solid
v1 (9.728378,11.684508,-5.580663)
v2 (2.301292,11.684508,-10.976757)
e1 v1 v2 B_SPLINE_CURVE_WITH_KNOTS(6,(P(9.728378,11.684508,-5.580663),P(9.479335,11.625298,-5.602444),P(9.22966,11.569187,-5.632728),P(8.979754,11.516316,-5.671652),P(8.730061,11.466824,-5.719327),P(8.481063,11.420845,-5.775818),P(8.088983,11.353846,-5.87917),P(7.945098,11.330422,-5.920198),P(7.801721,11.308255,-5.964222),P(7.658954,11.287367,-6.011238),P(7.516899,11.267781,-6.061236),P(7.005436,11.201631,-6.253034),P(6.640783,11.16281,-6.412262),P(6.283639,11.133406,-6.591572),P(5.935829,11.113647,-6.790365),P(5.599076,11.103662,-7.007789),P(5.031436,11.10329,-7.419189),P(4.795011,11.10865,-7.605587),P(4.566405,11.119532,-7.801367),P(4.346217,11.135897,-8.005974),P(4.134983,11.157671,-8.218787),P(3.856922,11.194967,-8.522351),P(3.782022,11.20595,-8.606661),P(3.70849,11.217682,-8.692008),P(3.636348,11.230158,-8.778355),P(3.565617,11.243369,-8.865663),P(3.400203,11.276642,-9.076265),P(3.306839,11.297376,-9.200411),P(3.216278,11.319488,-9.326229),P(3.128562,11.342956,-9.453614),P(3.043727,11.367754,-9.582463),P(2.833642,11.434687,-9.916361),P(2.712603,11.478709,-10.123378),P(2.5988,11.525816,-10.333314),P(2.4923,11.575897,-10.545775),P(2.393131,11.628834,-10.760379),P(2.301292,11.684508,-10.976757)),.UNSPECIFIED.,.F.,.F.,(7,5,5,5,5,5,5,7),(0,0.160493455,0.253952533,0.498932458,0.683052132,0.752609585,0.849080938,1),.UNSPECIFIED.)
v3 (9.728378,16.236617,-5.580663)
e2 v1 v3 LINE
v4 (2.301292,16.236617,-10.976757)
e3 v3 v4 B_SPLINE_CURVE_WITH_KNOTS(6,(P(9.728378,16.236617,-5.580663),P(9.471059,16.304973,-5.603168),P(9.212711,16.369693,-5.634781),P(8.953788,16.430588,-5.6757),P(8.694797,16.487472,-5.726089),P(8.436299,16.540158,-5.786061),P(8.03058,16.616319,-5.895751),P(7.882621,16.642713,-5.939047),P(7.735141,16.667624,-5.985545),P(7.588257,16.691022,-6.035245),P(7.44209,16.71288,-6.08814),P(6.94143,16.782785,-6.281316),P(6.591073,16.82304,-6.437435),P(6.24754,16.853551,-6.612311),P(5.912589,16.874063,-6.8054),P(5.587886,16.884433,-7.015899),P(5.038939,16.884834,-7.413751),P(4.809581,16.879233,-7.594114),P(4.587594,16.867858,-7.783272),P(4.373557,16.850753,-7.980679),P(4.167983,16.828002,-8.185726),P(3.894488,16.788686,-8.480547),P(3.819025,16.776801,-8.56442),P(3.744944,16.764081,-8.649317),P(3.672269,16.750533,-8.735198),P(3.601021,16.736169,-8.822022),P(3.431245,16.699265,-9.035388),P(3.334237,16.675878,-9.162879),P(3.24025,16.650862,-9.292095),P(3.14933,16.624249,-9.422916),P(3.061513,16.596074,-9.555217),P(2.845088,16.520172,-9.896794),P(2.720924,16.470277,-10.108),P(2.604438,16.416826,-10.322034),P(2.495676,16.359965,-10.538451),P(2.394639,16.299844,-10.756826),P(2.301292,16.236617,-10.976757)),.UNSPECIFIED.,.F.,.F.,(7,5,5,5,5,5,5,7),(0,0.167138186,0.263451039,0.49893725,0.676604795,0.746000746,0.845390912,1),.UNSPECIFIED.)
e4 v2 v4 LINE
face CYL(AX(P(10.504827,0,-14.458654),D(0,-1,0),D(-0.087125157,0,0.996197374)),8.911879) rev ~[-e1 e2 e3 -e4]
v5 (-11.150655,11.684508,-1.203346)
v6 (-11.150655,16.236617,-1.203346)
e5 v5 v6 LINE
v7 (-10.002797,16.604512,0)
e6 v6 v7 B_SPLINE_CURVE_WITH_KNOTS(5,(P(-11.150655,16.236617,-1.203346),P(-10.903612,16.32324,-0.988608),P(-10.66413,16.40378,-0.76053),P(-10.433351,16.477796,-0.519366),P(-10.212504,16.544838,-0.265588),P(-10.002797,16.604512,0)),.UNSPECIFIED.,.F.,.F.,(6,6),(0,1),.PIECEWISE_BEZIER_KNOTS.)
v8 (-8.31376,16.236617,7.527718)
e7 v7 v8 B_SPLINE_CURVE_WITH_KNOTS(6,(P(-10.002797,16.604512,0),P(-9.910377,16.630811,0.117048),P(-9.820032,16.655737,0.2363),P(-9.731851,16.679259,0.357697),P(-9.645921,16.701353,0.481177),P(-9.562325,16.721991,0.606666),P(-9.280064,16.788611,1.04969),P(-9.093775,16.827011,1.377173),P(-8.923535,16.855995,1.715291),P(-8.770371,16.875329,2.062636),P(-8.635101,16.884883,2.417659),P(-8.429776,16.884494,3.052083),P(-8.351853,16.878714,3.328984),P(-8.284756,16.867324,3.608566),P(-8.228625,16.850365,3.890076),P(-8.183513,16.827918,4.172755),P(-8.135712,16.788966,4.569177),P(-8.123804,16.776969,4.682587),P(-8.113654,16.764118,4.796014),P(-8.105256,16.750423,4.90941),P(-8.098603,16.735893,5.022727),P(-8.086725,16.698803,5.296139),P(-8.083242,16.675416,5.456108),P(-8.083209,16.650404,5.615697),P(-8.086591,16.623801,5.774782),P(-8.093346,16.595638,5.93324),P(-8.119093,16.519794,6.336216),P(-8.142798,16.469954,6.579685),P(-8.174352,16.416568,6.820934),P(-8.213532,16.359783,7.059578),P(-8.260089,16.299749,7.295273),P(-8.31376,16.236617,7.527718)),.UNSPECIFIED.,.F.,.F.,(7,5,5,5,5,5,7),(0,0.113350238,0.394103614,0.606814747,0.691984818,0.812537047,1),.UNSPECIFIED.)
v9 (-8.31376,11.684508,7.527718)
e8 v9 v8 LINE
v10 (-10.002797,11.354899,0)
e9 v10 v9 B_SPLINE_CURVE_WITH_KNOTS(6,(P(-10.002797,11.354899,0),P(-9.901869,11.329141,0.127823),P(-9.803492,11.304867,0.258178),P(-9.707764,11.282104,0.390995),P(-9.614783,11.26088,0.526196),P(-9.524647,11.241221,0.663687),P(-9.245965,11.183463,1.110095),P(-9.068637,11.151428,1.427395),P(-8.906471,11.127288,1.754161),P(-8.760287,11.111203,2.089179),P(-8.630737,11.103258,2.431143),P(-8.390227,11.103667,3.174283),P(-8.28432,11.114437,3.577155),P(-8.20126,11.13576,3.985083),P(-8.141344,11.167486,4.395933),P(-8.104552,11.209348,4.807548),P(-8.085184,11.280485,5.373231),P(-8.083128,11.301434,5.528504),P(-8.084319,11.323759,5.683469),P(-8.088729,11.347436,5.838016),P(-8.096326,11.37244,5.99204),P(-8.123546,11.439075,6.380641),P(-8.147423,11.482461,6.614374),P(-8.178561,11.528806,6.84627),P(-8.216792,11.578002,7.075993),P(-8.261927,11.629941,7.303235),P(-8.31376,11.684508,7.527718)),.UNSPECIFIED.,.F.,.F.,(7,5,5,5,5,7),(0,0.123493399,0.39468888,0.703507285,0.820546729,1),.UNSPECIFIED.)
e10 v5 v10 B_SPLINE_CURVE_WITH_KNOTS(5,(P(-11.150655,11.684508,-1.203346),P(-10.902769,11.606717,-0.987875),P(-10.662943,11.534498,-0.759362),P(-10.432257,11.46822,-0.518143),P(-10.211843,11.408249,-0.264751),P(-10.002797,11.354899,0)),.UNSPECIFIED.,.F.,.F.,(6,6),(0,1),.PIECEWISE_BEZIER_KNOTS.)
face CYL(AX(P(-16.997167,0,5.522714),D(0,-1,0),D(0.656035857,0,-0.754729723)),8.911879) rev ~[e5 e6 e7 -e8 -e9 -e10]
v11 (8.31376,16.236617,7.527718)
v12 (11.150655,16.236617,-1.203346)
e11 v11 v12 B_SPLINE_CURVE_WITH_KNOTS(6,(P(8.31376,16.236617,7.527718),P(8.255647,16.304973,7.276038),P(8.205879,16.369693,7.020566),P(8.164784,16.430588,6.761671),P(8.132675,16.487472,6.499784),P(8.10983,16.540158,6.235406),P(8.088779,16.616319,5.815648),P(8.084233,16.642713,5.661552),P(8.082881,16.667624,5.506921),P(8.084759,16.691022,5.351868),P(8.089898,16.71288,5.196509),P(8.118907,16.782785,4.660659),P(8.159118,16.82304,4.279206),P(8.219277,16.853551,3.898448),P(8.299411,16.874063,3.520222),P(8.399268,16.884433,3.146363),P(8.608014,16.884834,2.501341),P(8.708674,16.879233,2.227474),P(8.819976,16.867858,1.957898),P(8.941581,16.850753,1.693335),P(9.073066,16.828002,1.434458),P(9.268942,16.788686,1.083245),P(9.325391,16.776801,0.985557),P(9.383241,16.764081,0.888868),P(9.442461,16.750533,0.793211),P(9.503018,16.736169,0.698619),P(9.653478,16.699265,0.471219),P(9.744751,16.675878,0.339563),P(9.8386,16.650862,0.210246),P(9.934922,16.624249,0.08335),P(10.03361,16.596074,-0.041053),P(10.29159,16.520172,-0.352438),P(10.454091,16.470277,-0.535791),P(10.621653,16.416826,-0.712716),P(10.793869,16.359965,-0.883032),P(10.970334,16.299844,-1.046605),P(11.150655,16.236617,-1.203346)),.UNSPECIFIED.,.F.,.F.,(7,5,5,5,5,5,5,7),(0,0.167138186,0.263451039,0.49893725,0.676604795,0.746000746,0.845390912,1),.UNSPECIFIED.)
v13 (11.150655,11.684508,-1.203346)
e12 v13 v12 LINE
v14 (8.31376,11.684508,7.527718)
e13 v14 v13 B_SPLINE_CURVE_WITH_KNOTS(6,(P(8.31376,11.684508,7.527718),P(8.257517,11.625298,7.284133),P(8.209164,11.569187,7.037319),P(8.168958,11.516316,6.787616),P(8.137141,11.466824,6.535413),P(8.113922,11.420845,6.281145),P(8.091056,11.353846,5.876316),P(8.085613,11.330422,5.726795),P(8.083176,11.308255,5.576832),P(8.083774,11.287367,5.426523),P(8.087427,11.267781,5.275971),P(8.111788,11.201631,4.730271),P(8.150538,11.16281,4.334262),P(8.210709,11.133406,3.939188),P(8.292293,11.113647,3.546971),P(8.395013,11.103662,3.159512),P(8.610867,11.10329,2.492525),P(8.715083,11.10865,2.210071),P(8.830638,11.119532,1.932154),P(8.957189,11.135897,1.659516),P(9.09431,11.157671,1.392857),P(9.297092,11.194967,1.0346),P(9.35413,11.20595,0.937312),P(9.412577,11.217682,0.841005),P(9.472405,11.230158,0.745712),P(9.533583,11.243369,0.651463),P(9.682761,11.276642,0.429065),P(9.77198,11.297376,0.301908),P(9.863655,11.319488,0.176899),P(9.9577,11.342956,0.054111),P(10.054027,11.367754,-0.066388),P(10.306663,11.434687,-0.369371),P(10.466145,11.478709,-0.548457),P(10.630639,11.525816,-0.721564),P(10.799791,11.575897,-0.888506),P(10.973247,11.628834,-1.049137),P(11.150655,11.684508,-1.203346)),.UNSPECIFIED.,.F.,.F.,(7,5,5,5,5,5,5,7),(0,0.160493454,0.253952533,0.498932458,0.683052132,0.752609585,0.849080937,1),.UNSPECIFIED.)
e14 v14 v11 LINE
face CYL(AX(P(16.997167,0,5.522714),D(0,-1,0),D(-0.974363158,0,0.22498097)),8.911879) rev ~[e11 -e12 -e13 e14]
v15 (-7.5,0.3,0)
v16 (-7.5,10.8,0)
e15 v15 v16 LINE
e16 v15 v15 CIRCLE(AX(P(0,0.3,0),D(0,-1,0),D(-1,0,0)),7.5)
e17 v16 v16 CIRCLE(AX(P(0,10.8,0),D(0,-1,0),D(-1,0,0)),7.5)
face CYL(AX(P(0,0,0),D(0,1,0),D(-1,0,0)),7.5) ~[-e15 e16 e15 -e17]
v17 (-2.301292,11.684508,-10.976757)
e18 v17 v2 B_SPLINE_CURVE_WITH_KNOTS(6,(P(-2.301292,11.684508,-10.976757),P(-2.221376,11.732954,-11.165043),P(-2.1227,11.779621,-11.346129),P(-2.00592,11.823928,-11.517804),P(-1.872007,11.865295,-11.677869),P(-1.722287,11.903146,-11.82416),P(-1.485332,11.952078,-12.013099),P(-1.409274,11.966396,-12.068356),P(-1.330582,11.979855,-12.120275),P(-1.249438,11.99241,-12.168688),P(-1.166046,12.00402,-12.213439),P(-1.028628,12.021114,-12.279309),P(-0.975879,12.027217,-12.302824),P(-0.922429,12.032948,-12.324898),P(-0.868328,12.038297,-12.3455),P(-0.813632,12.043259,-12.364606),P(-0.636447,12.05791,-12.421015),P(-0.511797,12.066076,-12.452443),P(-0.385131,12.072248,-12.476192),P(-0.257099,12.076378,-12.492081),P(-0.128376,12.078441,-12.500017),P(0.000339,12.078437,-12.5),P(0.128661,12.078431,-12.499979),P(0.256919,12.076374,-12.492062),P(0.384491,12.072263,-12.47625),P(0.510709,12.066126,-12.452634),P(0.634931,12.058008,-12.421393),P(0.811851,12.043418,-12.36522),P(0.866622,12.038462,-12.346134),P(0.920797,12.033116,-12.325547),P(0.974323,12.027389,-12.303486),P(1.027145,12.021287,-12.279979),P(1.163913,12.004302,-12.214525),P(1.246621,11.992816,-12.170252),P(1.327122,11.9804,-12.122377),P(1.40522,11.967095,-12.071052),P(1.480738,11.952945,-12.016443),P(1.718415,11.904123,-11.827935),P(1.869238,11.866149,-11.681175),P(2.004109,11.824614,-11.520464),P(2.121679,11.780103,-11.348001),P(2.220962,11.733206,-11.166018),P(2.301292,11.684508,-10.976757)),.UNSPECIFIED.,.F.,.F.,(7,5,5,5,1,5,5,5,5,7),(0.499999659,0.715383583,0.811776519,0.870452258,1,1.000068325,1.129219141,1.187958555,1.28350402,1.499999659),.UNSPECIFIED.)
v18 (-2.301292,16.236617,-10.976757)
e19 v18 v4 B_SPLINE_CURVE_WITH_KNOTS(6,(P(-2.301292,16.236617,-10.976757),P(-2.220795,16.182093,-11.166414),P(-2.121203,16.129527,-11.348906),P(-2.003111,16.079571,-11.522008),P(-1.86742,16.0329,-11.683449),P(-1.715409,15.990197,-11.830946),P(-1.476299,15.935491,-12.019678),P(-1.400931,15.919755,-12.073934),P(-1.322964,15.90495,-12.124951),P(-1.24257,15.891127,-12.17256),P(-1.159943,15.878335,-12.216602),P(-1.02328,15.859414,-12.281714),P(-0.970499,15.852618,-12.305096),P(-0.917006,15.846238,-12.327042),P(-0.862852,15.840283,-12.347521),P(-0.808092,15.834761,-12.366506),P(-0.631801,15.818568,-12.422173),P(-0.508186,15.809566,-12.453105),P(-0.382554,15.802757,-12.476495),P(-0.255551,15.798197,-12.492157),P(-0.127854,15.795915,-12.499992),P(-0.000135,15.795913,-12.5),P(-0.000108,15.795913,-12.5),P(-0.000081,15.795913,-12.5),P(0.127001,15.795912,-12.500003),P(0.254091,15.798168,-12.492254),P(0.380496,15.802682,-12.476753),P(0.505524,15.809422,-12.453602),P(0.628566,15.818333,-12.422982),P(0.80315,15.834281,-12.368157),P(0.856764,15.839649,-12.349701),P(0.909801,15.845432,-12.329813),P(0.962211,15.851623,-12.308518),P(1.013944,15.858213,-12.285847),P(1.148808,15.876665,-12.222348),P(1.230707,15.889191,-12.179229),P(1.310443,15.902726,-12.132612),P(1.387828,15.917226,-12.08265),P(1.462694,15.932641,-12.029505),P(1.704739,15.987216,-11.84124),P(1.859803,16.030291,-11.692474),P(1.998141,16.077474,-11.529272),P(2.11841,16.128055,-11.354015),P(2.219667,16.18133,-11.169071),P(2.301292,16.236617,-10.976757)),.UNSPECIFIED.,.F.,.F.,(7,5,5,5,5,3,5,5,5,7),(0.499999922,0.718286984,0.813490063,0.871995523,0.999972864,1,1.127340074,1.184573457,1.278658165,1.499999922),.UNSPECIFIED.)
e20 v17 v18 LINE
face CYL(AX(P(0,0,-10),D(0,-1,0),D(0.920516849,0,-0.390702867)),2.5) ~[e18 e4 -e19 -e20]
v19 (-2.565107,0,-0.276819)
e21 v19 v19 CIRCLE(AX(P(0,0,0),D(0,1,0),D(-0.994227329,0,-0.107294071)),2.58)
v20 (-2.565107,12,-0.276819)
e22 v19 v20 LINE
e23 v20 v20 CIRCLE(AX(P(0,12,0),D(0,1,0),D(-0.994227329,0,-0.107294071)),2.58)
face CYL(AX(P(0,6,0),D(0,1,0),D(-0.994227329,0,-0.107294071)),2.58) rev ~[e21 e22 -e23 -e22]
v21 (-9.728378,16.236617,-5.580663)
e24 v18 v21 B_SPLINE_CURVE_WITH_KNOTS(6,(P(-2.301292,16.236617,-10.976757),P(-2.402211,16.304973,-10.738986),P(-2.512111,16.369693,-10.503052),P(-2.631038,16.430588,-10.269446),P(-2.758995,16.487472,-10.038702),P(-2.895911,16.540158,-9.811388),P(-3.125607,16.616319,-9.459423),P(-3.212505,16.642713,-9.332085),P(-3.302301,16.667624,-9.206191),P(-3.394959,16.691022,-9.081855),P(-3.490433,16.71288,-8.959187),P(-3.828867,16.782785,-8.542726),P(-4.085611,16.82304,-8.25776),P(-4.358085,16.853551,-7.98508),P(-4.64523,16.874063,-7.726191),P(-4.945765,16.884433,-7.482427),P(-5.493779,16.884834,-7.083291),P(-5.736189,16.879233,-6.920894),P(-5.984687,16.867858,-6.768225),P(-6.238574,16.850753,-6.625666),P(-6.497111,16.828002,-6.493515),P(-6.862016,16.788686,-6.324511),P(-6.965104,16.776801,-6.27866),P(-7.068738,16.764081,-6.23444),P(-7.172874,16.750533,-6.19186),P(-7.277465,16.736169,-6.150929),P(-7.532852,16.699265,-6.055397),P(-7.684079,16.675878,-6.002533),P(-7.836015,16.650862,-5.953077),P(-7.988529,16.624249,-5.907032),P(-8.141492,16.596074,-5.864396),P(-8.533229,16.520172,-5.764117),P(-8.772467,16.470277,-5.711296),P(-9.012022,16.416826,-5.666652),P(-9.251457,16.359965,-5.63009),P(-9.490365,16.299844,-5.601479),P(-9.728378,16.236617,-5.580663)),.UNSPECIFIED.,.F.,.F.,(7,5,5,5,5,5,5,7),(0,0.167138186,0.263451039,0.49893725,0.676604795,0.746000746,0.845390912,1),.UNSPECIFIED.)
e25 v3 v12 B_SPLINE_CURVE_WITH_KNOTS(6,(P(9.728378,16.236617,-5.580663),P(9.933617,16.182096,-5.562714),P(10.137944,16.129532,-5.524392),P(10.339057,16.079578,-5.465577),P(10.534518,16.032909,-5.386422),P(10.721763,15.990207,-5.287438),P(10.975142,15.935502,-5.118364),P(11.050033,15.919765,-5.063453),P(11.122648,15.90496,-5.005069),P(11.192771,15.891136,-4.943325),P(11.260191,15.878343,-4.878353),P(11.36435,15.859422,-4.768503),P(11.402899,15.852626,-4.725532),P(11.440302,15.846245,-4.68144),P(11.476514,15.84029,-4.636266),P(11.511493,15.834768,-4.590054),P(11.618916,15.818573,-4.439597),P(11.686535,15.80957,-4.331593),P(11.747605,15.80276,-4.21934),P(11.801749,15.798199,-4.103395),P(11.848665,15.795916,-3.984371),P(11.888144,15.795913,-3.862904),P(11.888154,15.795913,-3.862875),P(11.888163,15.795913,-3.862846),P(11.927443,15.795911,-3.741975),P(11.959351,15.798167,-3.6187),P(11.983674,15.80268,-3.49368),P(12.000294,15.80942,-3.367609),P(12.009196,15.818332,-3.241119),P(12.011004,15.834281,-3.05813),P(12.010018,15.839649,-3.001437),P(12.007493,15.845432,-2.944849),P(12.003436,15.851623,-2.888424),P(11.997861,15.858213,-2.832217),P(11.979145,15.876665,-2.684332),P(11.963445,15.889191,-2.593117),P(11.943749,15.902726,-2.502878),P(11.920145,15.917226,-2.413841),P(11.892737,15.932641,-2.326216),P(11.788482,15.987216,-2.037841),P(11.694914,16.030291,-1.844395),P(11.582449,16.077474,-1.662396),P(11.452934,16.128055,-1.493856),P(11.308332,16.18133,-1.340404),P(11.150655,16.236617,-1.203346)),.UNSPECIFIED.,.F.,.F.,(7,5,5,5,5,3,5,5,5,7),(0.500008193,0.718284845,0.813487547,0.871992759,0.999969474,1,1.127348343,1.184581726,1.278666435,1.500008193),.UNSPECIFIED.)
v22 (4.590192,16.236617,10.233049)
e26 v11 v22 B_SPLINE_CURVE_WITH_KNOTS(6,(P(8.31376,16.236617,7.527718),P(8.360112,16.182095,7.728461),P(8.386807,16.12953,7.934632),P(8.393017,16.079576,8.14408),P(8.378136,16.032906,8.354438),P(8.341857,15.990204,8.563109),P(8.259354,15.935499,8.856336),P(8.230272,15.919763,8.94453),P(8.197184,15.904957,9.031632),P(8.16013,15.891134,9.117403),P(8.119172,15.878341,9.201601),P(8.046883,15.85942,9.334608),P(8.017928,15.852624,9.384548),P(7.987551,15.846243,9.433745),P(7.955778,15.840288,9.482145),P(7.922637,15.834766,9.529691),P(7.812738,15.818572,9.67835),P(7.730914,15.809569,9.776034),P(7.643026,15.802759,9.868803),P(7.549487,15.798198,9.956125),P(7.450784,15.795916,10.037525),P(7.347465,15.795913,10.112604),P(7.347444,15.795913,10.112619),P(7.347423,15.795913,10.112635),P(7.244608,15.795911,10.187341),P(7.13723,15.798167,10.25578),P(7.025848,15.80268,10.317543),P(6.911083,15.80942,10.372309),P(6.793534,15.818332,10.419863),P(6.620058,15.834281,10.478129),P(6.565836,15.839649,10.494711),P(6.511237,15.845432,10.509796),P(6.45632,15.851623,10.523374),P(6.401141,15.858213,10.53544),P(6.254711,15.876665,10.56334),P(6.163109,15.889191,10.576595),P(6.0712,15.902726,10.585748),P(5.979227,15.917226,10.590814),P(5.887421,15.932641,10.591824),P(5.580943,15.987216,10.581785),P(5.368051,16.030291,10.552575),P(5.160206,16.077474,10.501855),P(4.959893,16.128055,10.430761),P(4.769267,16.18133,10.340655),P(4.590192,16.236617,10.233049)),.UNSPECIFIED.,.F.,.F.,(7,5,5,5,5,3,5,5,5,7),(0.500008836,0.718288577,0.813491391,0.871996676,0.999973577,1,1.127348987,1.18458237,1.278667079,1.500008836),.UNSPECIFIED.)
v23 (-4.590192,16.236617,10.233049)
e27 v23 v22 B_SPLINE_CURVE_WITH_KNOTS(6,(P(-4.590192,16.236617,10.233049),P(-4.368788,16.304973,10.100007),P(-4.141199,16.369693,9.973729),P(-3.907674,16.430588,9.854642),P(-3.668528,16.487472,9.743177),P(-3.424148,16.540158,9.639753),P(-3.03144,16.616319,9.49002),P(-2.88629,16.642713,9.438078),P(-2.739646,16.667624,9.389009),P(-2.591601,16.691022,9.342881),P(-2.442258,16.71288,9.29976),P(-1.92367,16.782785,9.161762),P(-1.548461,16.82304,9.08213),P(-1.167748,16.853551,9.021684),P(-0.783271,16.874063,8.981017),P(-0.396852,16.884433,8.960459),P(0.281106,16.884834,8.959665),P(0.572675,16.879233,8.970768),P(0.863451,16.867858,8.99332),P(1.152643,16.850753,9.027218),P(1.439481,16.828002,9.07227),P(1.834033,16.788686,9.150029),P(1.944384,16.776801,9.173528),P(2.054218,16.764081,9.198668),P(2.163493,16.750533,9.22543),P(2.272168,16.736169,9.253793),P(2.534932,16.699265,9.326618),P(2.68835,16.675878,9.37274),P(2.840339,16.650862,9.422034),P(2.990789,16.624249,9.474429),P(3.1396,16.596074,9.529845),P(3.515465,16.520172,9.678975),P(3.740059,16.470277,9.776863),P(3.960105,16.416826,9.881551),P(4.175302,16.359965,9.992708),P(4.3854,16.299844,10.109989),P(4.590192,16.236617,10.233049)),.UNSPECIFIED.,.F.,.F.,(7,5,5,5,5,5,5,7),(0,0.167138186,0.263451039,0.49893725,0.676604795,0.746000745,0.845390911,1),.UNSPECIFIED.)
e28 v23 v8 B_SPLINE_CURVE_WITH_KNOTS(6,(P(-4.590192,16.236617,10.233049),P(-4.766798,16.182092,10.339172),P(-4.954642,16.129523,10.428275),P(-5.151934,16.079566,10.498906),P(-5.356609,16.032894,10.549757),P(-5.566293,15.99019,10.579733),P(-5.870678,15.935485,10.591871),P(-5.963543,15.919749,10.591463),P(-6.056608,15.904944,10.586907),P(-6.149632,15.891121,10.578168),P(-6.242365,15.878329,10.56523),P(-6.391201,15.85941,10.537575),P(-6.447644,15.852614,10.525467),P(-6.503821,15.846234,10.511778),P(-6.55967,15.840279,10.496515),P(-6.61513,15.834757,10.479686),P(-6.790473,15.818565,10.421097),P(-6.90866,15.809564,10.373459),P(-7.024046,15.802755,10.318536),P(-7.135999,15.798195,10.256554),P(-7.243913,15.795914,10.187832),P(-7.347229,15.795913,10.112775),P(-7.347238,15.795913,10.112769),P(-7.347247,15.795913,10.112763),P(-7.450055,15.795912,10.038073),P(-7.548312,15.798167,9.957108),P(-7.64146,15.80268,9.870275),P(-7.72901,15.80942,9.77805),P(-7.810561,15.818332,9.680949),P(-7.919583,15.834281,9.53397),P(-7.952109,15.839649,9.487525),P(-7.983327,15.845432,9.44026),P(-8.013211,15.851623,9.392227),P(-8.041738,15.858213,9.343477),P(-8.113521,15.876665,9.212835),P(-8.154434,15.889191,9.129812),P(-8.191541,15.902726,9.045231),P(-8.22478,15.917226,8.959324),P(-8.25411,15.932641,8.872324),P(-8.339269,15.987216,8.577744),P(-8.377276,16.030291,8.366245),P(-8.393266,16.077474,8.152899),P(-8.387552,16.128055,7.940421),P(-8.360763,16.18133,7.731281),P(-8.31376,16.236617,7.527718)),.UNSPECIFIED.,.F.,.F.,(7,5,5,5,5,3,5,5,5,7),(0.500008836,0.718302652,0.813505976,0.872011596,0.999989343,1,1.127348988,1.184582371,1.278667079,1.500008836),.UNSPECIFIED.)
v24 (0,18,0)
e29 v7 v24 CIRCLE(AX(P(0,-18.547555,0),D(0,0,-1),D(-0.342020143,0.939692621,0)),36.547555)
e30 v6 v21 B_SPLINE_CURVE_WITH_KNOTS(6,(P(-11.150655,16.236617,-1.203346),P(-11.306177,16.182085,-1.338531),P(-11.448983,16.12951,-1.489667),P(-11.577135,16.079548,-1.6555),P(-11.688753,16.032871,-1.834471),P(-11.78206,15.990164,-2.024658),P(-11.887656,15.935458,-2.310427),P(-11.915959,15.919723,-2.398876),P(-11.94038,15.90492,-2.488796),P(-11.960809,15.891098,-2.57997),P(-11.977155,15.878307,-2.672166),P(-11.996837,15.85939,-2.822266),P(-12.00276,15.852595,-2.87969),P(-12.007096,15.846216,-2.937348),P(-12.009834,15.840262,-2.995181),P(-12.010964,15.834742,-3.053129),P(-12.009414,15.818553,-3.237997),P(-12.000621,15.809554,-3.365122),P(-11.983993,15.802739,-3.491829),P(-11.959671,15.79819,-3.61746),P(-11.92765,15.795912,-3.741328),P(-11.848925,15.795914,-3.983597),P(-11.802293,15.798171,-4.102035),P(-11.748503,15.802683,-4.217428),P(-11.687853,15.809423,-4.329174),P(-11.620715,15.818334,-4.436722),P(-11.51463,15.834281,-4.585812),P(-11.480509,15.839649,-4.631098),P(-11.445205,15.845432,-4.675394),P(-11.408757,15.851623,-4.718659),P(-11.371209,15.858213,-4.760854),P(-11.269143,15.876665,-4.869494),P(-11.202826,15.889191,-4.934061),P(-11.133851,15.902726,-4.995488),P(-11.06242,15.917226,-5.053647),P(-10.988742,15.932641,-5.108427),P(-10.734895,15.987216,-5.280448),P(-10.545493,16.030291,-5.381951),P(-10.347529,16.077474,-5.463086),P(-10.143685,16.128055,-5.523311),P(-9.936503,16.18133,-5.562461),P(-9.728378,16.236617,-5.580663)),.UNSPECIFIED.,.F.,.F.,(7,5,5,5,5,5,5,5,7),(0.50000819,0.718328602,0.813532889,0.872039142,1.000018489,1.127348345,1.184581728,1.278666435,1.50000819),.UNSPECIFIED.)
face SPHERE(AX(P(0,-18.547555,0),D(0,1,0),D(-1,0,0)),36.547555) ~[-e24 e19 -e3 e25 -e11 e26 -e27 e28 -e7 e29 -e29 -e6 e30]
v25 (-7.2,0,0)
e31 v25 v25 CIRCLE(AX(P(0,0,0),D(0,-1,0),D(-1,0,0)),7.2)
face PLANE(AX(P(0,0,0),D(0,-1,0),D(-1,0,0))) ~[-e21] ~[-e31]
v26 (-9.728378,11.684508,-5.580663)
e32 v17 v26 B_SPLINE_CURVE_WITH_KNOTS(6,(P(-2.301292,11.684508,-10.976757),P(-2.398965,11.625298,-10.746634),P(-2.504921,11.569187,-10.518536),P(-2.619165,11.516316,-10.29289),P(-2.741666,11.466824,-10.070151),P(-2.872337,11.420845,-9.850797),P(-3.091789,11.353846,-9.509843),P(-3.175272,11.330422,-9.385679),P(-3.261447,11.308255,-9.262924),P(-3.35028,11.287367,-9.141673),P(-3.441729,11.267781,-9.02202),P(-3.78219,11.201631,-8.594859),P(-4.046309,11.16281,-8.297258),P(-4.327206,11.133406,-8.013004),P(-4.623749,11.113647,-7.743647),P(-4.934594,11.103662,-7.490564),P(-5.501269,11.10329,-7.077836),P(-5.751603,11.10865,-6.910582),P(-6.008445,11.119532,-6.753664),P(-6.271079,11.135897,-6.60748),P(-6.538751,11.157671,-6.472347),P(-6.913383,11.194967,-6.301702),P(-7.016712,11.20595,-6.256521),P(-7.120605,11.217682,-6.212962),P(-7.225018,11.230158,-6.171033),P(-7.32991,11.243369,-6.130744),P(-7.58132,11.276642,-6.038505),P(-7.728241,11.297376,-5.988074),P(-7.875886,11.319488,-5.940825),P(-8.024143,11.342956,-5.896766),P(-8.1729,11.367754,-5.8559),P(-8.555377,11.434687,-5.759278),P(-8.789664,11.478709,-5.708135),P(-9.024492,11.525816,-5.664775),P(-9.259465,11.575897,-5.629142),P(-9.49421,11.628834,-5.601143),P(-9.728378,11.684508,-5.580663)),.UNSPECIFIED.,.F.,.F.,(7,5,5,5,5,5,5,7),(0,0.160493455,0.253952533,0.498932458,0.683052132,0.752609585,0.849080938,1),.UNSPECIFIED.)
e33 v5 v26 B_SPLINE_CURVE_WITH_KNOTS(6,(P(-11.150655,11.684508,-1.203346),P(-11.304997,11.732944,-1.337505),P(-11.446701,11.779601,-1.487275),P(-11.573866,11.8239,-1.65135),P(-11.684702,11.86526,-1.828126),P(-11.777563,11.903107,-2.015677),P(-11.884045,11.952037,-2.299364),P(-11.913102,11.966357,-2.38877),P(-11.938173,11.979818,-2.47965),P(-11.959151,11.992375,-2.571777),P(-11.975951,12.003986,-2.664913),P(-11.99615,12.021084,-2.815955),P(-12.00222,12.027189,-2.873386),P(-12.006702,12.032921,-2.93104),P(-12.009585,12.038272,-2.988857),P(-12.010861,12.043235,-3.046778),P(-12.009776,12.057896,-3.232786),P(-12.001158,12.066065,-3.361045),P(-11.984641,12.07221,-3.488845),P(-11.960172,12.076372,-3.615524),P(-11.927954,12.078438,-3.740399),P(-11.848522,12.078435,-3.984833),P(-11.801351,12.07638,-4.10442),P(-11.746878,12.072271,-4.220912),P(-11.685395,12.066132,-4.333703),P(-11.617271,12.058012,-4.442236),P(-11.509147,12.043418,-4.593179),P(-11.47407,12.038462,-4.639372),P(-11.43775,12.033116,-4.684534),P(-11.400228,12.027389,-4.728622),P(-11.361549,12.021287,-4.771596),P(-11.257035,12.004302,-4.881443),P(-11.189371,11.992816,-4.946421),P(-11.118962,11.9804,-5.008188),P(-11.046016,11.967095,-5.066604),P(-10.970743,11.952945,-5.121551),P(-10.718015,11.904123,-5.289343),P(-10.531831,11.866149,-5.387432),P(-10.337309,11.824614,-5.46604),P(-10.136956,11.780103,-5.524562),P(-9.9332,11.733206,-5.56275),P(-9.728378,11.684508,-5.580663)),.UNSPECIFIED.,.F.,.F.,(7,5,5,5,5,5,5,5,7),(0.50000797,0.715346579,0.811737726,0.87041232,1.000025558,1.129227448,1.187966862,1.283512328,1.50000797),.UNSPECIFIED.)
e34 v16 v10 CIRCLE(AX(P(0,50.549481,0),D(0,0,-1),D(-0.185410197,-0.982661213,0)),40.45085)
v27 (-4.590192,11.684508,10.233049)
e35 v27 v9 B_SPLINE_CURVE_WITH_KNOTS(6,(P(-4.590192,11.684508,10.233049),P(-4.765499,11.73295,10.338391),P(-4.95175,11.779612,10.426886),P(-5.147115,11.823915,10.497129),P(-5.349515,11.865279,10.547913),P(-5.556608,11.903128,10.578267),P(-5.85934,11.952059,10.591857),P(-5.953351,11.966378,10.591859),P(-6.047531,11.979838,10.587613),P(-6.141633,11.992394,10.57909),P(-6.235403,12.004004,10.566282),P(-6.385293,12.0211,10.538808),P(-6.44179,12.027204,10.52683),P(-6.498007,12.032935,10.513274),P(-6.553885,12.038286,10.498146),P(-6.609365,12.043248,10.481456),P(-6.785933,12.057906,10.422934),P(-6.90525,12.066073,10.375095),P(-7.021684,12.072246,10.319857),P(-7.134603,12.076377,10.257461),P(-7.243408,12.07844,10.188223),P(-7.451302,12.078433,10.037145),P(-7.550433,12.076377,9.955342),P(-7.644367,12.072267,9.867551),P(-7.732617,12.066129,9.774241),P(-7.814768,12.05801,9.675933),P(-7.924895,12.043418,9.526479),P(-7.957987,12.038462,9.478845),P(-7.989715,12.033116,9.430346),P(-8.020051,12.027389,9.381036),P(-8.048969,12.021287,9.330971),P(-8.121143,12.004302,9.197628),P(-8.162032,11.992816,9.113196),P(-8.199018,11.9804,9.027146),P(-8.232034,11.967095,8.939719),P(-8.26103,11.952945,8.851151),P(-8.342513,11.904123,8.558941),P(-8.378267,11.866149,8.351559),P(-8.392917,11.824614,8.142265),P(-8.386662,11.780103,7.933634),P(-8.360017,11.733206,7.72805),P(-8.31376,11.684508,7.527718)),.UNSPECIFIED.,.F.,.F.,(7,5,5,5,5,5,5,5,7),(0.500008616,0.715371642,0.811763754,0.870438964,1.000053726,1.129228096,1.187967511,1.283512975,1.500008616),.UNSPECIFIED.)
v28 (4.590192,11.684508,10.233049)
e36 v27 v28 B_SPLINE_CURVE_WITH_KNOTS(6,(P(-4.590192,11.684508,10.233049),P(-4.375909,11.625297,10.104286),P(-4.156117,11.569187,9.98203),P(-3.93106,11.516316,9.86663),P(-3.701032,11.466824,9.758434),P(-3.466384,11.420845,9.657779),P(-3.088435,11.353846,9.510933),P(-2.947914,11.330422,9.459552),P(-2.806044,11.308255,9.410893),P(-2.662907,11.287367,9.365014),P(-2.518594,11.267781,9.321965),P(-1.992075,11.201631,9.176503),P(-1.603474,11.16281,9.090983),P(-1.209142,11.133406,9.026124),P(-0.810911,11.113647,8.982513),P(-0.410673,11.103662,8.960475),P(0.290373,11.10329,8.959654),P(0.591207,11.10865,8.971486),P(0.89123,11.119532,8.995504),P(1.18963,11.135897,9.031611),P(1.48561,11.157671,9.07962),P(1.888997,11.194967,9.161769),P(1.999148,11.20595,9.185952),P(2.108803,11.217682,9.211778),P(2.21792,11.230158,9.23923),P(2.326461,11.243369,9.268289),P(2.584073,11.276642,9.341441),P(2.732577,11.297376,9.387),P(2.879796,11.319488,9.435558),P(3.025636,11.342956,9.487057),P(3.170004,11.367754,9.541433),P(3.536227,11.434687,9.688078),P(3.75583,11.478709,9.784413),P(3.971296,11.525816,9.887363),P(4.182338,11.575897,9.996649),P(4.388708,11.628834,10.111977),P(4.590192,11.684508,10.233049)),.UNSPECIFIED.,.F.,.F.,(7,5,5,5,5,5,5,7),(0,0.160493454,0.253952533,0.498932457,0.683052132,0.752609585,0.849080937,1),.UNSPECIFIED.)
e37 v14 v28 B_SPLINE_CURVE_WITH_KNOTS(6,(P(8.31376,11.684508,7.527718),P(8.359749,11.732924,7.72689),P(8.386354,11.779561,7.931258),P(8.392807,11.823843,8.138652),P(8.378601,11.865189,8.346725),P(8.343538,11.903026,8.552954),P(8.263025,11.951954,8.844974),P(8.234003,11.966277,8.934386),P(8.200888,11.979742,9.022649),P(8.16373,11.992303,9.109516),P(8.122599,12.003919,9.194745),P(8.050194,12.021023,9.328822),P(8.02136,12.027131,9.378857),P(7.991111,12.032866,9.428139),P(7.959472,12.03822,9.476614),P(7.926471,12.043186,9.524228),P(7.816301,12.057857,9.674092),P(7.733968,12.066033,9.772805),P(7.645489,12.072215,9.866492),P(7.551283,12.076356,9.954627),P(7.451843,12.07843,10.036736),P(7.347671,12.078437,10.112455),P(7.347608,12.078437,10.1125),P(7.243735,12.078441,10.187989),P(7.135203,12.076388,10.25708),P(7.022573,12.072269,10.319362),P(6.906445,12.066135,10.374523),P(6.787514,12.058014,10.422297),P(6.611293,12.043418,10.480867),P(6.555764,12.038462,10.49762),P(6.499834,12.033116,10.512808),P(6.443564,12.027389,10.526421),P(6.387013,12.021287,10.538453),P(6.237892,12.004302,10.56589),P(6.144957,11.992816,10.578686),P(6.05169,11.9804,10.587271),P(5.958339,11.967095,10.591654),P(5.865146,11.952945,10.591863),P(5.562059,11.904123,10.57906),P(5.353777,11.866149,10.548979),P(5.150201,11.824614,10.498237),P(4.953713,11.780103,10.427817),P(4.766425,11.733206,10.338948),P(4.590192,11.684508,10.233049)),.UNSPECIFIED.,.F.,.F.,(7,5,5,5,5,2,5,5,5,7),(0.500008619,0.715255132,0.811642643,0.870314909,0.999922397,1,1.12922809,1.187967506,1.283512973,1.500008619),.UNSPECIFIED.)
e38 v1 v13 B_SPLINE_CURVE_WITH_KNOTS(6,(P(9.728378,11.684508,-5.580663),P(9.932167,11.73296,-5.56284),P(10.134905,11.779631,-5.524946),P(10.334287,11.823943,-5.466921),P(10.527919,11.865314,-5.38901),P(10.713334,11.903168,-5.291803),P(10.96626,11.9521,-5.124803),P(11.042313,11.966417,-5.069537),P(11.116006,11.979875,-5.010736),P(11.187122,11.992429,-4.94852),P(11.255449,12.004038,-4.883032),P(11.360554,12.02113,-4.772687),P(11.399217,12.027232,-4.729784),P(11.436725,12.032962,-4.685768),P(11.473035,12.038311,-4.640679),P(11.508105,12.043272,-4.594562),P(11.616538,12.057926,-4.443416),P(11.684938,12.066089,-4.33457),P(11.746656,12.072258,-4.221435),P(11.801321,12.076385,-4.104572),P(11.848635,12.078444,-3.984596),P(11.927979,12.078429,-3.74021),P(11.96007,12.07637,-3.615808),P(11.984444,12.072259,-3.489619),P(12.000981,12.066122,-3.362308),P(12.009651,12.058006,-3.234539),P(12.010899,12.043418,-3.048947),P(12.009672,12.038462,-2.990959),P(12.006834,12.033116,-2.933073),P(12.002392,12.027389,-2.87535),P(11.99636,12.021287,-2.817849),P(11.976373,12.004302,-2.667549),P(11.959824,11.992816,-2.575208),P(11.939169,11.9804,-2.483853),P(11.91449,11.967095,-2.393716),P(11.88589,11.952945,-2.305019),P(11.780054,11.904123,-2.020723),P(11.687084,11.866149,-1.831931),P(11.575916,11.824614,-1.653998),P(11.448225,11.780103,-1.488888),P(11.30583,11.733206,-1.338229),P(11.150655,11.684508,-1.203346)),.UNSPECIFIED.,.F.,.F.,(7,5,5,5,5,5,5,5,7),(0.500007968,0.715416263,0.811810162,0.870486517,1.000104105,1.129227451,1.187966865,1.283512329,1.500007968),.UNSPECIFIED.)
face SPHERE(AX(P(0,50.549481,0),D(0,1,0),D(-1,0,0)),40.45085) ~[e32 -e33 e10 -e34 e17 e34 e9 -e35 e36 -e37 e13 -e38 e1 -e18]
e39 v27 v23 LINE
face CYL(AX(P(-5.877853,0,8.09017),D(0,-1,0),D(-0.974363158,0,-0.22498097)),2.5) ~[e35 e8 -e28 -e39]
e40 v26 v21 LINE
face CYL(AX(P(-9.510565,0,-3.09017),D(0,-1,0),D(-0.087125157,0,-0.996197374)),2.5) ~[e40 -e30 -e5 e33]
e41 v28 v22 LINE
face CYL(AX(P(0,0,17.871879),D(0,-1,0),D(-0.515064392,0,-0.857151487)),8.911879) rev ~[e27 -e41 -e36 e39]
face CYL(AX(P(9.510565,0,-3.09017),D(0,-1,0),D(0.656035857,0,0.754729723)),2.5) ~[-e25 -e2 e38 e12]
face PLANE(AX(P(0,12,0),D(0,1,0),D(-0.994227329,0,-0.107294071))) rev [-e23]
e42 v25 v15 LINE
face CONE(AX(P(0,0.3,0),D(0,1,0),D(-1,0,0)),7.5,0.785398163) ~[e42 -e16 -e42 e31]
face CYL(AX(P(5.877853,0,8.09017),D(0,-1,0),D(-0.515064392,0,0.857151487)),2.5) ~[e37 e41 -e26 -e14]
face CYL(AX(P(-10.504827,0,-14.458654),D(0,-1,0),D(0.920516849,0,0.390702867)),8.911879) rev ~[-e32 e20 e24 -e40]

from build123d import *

# Parameters (mm, degrees)
SKETCH_2_R          = 13.5
CUT_EXTRUDE_1_DEPTH = 26.228951623
SKETCH_3_W          = 2.58
SKETCH_3_H          = 12
CHAMFER_1_SIZE      = 0.3


with BuildPart() as part:
    # 草图1 → 旋转1 (revolve)
    with BuildSketch(Plane.XY):
        with BuildLine():
            Line((0, 0), (-7.5, 0))
            Line((-7.5, 0), (-7.5, 10.8))
            ThreePointArc((-7.5, 10.8), (-10.020409182, 11.359397565), (-12.5, 12.078436826))
            Line((-12.5, 12.078436826), (-12.5, 15.795912741))
            ThreePointArc((-12.5, 15.795912741), (-6.346416324, 17.444760518), (0, 18))
            Line((0, 18), (0, 0))
        make_face()
    revolve(axis=Axis((0, 18, 0), (0, -1, 0)))

    # 草图2 → 切除-拉伸1 (cut, through all)
    with BuildSketch(Plane(origin=(0, 0, 0), x_dir=(1, 0, 0), z_dir=(0, 1, 0))):
        Circle(SKETCH_2_R)
        with BuildLine():
            ThreePointArc((2.301292124, 10.976757166), (0, 12.5), (-2.301292124, 10.976757166))
            ThreePointArc((-2.301292124, 10.976757166), (-5.266555861, 7.24879227), (-9.728378055, 5.580663378))
            ThreePointArc((-9.728378055, 5.580663378), (-11.888206454, 3.86271243), (-11.150654806, 1.203345637))
            ThreePointArc((-11.150654806, 1.203345637), (-8.521466386, -2.76879227), (-8.313760417, -7.527717519))
            ThreePointArc((-8.313760417, -7.527717519), (-7.347315654, -10.11271243), (-4.590191543, -10.233048662))
            ThreePointArc((-4.590191543, -10.233048662), (0, -8.96), (4.590191543, -10.233048662))
            ThreePointArc((4.590191543, -10.233048662), (7.347315654, -10.11271243), (8.313760417, -7.527717519))
            ThreePointArc((8.313760417, -7.527717519), (8.521466386, -2.76879227), (11.150654806, 1.203345637))
            ThreePointArc((11.150654806, 1.203345637), (11.888206454, 3.86271243), (9.728378055, 5.580663378))
            ThreePointArc((9.728378055, 5.580663378), (5.266555861, 7.24879227), (2.301292124, 10.976757166))
        make_face(mode=Mode.SUBTRACT)
    extrude(amount=CUT_EXTRUDE_1_DEPTH, mode=Mode.SUBTRACT)

    # 草图3 → 切除-旋转1 (revolve, cut)
    with BuildSketch(Plane.XY, mode=Mode.PRIVATE) as cut_revolve_1_sk:
        with Locations((1.29, 6)):
            Rectangle(SKETCH_3_W, SKETCH_3_H)
    revolve(cut_revolve_1_sk.sketch.rotate(Axis((0, 0, 0), (0, 1, 0)), 173.840646027), axis=Axis((0, 0, 0), (0, 1, 0)), mode=Mode.SUBTRACT)

    # 倒角1
    chamfer_1_edges = [part.edges().sort_by_distance(p)[0] for p in [
        (7.5, 0, 0),
    ]]
    chamfer(chamfer_1_edges, length=CHAMFER_1_SIZE)


solid = part.part
